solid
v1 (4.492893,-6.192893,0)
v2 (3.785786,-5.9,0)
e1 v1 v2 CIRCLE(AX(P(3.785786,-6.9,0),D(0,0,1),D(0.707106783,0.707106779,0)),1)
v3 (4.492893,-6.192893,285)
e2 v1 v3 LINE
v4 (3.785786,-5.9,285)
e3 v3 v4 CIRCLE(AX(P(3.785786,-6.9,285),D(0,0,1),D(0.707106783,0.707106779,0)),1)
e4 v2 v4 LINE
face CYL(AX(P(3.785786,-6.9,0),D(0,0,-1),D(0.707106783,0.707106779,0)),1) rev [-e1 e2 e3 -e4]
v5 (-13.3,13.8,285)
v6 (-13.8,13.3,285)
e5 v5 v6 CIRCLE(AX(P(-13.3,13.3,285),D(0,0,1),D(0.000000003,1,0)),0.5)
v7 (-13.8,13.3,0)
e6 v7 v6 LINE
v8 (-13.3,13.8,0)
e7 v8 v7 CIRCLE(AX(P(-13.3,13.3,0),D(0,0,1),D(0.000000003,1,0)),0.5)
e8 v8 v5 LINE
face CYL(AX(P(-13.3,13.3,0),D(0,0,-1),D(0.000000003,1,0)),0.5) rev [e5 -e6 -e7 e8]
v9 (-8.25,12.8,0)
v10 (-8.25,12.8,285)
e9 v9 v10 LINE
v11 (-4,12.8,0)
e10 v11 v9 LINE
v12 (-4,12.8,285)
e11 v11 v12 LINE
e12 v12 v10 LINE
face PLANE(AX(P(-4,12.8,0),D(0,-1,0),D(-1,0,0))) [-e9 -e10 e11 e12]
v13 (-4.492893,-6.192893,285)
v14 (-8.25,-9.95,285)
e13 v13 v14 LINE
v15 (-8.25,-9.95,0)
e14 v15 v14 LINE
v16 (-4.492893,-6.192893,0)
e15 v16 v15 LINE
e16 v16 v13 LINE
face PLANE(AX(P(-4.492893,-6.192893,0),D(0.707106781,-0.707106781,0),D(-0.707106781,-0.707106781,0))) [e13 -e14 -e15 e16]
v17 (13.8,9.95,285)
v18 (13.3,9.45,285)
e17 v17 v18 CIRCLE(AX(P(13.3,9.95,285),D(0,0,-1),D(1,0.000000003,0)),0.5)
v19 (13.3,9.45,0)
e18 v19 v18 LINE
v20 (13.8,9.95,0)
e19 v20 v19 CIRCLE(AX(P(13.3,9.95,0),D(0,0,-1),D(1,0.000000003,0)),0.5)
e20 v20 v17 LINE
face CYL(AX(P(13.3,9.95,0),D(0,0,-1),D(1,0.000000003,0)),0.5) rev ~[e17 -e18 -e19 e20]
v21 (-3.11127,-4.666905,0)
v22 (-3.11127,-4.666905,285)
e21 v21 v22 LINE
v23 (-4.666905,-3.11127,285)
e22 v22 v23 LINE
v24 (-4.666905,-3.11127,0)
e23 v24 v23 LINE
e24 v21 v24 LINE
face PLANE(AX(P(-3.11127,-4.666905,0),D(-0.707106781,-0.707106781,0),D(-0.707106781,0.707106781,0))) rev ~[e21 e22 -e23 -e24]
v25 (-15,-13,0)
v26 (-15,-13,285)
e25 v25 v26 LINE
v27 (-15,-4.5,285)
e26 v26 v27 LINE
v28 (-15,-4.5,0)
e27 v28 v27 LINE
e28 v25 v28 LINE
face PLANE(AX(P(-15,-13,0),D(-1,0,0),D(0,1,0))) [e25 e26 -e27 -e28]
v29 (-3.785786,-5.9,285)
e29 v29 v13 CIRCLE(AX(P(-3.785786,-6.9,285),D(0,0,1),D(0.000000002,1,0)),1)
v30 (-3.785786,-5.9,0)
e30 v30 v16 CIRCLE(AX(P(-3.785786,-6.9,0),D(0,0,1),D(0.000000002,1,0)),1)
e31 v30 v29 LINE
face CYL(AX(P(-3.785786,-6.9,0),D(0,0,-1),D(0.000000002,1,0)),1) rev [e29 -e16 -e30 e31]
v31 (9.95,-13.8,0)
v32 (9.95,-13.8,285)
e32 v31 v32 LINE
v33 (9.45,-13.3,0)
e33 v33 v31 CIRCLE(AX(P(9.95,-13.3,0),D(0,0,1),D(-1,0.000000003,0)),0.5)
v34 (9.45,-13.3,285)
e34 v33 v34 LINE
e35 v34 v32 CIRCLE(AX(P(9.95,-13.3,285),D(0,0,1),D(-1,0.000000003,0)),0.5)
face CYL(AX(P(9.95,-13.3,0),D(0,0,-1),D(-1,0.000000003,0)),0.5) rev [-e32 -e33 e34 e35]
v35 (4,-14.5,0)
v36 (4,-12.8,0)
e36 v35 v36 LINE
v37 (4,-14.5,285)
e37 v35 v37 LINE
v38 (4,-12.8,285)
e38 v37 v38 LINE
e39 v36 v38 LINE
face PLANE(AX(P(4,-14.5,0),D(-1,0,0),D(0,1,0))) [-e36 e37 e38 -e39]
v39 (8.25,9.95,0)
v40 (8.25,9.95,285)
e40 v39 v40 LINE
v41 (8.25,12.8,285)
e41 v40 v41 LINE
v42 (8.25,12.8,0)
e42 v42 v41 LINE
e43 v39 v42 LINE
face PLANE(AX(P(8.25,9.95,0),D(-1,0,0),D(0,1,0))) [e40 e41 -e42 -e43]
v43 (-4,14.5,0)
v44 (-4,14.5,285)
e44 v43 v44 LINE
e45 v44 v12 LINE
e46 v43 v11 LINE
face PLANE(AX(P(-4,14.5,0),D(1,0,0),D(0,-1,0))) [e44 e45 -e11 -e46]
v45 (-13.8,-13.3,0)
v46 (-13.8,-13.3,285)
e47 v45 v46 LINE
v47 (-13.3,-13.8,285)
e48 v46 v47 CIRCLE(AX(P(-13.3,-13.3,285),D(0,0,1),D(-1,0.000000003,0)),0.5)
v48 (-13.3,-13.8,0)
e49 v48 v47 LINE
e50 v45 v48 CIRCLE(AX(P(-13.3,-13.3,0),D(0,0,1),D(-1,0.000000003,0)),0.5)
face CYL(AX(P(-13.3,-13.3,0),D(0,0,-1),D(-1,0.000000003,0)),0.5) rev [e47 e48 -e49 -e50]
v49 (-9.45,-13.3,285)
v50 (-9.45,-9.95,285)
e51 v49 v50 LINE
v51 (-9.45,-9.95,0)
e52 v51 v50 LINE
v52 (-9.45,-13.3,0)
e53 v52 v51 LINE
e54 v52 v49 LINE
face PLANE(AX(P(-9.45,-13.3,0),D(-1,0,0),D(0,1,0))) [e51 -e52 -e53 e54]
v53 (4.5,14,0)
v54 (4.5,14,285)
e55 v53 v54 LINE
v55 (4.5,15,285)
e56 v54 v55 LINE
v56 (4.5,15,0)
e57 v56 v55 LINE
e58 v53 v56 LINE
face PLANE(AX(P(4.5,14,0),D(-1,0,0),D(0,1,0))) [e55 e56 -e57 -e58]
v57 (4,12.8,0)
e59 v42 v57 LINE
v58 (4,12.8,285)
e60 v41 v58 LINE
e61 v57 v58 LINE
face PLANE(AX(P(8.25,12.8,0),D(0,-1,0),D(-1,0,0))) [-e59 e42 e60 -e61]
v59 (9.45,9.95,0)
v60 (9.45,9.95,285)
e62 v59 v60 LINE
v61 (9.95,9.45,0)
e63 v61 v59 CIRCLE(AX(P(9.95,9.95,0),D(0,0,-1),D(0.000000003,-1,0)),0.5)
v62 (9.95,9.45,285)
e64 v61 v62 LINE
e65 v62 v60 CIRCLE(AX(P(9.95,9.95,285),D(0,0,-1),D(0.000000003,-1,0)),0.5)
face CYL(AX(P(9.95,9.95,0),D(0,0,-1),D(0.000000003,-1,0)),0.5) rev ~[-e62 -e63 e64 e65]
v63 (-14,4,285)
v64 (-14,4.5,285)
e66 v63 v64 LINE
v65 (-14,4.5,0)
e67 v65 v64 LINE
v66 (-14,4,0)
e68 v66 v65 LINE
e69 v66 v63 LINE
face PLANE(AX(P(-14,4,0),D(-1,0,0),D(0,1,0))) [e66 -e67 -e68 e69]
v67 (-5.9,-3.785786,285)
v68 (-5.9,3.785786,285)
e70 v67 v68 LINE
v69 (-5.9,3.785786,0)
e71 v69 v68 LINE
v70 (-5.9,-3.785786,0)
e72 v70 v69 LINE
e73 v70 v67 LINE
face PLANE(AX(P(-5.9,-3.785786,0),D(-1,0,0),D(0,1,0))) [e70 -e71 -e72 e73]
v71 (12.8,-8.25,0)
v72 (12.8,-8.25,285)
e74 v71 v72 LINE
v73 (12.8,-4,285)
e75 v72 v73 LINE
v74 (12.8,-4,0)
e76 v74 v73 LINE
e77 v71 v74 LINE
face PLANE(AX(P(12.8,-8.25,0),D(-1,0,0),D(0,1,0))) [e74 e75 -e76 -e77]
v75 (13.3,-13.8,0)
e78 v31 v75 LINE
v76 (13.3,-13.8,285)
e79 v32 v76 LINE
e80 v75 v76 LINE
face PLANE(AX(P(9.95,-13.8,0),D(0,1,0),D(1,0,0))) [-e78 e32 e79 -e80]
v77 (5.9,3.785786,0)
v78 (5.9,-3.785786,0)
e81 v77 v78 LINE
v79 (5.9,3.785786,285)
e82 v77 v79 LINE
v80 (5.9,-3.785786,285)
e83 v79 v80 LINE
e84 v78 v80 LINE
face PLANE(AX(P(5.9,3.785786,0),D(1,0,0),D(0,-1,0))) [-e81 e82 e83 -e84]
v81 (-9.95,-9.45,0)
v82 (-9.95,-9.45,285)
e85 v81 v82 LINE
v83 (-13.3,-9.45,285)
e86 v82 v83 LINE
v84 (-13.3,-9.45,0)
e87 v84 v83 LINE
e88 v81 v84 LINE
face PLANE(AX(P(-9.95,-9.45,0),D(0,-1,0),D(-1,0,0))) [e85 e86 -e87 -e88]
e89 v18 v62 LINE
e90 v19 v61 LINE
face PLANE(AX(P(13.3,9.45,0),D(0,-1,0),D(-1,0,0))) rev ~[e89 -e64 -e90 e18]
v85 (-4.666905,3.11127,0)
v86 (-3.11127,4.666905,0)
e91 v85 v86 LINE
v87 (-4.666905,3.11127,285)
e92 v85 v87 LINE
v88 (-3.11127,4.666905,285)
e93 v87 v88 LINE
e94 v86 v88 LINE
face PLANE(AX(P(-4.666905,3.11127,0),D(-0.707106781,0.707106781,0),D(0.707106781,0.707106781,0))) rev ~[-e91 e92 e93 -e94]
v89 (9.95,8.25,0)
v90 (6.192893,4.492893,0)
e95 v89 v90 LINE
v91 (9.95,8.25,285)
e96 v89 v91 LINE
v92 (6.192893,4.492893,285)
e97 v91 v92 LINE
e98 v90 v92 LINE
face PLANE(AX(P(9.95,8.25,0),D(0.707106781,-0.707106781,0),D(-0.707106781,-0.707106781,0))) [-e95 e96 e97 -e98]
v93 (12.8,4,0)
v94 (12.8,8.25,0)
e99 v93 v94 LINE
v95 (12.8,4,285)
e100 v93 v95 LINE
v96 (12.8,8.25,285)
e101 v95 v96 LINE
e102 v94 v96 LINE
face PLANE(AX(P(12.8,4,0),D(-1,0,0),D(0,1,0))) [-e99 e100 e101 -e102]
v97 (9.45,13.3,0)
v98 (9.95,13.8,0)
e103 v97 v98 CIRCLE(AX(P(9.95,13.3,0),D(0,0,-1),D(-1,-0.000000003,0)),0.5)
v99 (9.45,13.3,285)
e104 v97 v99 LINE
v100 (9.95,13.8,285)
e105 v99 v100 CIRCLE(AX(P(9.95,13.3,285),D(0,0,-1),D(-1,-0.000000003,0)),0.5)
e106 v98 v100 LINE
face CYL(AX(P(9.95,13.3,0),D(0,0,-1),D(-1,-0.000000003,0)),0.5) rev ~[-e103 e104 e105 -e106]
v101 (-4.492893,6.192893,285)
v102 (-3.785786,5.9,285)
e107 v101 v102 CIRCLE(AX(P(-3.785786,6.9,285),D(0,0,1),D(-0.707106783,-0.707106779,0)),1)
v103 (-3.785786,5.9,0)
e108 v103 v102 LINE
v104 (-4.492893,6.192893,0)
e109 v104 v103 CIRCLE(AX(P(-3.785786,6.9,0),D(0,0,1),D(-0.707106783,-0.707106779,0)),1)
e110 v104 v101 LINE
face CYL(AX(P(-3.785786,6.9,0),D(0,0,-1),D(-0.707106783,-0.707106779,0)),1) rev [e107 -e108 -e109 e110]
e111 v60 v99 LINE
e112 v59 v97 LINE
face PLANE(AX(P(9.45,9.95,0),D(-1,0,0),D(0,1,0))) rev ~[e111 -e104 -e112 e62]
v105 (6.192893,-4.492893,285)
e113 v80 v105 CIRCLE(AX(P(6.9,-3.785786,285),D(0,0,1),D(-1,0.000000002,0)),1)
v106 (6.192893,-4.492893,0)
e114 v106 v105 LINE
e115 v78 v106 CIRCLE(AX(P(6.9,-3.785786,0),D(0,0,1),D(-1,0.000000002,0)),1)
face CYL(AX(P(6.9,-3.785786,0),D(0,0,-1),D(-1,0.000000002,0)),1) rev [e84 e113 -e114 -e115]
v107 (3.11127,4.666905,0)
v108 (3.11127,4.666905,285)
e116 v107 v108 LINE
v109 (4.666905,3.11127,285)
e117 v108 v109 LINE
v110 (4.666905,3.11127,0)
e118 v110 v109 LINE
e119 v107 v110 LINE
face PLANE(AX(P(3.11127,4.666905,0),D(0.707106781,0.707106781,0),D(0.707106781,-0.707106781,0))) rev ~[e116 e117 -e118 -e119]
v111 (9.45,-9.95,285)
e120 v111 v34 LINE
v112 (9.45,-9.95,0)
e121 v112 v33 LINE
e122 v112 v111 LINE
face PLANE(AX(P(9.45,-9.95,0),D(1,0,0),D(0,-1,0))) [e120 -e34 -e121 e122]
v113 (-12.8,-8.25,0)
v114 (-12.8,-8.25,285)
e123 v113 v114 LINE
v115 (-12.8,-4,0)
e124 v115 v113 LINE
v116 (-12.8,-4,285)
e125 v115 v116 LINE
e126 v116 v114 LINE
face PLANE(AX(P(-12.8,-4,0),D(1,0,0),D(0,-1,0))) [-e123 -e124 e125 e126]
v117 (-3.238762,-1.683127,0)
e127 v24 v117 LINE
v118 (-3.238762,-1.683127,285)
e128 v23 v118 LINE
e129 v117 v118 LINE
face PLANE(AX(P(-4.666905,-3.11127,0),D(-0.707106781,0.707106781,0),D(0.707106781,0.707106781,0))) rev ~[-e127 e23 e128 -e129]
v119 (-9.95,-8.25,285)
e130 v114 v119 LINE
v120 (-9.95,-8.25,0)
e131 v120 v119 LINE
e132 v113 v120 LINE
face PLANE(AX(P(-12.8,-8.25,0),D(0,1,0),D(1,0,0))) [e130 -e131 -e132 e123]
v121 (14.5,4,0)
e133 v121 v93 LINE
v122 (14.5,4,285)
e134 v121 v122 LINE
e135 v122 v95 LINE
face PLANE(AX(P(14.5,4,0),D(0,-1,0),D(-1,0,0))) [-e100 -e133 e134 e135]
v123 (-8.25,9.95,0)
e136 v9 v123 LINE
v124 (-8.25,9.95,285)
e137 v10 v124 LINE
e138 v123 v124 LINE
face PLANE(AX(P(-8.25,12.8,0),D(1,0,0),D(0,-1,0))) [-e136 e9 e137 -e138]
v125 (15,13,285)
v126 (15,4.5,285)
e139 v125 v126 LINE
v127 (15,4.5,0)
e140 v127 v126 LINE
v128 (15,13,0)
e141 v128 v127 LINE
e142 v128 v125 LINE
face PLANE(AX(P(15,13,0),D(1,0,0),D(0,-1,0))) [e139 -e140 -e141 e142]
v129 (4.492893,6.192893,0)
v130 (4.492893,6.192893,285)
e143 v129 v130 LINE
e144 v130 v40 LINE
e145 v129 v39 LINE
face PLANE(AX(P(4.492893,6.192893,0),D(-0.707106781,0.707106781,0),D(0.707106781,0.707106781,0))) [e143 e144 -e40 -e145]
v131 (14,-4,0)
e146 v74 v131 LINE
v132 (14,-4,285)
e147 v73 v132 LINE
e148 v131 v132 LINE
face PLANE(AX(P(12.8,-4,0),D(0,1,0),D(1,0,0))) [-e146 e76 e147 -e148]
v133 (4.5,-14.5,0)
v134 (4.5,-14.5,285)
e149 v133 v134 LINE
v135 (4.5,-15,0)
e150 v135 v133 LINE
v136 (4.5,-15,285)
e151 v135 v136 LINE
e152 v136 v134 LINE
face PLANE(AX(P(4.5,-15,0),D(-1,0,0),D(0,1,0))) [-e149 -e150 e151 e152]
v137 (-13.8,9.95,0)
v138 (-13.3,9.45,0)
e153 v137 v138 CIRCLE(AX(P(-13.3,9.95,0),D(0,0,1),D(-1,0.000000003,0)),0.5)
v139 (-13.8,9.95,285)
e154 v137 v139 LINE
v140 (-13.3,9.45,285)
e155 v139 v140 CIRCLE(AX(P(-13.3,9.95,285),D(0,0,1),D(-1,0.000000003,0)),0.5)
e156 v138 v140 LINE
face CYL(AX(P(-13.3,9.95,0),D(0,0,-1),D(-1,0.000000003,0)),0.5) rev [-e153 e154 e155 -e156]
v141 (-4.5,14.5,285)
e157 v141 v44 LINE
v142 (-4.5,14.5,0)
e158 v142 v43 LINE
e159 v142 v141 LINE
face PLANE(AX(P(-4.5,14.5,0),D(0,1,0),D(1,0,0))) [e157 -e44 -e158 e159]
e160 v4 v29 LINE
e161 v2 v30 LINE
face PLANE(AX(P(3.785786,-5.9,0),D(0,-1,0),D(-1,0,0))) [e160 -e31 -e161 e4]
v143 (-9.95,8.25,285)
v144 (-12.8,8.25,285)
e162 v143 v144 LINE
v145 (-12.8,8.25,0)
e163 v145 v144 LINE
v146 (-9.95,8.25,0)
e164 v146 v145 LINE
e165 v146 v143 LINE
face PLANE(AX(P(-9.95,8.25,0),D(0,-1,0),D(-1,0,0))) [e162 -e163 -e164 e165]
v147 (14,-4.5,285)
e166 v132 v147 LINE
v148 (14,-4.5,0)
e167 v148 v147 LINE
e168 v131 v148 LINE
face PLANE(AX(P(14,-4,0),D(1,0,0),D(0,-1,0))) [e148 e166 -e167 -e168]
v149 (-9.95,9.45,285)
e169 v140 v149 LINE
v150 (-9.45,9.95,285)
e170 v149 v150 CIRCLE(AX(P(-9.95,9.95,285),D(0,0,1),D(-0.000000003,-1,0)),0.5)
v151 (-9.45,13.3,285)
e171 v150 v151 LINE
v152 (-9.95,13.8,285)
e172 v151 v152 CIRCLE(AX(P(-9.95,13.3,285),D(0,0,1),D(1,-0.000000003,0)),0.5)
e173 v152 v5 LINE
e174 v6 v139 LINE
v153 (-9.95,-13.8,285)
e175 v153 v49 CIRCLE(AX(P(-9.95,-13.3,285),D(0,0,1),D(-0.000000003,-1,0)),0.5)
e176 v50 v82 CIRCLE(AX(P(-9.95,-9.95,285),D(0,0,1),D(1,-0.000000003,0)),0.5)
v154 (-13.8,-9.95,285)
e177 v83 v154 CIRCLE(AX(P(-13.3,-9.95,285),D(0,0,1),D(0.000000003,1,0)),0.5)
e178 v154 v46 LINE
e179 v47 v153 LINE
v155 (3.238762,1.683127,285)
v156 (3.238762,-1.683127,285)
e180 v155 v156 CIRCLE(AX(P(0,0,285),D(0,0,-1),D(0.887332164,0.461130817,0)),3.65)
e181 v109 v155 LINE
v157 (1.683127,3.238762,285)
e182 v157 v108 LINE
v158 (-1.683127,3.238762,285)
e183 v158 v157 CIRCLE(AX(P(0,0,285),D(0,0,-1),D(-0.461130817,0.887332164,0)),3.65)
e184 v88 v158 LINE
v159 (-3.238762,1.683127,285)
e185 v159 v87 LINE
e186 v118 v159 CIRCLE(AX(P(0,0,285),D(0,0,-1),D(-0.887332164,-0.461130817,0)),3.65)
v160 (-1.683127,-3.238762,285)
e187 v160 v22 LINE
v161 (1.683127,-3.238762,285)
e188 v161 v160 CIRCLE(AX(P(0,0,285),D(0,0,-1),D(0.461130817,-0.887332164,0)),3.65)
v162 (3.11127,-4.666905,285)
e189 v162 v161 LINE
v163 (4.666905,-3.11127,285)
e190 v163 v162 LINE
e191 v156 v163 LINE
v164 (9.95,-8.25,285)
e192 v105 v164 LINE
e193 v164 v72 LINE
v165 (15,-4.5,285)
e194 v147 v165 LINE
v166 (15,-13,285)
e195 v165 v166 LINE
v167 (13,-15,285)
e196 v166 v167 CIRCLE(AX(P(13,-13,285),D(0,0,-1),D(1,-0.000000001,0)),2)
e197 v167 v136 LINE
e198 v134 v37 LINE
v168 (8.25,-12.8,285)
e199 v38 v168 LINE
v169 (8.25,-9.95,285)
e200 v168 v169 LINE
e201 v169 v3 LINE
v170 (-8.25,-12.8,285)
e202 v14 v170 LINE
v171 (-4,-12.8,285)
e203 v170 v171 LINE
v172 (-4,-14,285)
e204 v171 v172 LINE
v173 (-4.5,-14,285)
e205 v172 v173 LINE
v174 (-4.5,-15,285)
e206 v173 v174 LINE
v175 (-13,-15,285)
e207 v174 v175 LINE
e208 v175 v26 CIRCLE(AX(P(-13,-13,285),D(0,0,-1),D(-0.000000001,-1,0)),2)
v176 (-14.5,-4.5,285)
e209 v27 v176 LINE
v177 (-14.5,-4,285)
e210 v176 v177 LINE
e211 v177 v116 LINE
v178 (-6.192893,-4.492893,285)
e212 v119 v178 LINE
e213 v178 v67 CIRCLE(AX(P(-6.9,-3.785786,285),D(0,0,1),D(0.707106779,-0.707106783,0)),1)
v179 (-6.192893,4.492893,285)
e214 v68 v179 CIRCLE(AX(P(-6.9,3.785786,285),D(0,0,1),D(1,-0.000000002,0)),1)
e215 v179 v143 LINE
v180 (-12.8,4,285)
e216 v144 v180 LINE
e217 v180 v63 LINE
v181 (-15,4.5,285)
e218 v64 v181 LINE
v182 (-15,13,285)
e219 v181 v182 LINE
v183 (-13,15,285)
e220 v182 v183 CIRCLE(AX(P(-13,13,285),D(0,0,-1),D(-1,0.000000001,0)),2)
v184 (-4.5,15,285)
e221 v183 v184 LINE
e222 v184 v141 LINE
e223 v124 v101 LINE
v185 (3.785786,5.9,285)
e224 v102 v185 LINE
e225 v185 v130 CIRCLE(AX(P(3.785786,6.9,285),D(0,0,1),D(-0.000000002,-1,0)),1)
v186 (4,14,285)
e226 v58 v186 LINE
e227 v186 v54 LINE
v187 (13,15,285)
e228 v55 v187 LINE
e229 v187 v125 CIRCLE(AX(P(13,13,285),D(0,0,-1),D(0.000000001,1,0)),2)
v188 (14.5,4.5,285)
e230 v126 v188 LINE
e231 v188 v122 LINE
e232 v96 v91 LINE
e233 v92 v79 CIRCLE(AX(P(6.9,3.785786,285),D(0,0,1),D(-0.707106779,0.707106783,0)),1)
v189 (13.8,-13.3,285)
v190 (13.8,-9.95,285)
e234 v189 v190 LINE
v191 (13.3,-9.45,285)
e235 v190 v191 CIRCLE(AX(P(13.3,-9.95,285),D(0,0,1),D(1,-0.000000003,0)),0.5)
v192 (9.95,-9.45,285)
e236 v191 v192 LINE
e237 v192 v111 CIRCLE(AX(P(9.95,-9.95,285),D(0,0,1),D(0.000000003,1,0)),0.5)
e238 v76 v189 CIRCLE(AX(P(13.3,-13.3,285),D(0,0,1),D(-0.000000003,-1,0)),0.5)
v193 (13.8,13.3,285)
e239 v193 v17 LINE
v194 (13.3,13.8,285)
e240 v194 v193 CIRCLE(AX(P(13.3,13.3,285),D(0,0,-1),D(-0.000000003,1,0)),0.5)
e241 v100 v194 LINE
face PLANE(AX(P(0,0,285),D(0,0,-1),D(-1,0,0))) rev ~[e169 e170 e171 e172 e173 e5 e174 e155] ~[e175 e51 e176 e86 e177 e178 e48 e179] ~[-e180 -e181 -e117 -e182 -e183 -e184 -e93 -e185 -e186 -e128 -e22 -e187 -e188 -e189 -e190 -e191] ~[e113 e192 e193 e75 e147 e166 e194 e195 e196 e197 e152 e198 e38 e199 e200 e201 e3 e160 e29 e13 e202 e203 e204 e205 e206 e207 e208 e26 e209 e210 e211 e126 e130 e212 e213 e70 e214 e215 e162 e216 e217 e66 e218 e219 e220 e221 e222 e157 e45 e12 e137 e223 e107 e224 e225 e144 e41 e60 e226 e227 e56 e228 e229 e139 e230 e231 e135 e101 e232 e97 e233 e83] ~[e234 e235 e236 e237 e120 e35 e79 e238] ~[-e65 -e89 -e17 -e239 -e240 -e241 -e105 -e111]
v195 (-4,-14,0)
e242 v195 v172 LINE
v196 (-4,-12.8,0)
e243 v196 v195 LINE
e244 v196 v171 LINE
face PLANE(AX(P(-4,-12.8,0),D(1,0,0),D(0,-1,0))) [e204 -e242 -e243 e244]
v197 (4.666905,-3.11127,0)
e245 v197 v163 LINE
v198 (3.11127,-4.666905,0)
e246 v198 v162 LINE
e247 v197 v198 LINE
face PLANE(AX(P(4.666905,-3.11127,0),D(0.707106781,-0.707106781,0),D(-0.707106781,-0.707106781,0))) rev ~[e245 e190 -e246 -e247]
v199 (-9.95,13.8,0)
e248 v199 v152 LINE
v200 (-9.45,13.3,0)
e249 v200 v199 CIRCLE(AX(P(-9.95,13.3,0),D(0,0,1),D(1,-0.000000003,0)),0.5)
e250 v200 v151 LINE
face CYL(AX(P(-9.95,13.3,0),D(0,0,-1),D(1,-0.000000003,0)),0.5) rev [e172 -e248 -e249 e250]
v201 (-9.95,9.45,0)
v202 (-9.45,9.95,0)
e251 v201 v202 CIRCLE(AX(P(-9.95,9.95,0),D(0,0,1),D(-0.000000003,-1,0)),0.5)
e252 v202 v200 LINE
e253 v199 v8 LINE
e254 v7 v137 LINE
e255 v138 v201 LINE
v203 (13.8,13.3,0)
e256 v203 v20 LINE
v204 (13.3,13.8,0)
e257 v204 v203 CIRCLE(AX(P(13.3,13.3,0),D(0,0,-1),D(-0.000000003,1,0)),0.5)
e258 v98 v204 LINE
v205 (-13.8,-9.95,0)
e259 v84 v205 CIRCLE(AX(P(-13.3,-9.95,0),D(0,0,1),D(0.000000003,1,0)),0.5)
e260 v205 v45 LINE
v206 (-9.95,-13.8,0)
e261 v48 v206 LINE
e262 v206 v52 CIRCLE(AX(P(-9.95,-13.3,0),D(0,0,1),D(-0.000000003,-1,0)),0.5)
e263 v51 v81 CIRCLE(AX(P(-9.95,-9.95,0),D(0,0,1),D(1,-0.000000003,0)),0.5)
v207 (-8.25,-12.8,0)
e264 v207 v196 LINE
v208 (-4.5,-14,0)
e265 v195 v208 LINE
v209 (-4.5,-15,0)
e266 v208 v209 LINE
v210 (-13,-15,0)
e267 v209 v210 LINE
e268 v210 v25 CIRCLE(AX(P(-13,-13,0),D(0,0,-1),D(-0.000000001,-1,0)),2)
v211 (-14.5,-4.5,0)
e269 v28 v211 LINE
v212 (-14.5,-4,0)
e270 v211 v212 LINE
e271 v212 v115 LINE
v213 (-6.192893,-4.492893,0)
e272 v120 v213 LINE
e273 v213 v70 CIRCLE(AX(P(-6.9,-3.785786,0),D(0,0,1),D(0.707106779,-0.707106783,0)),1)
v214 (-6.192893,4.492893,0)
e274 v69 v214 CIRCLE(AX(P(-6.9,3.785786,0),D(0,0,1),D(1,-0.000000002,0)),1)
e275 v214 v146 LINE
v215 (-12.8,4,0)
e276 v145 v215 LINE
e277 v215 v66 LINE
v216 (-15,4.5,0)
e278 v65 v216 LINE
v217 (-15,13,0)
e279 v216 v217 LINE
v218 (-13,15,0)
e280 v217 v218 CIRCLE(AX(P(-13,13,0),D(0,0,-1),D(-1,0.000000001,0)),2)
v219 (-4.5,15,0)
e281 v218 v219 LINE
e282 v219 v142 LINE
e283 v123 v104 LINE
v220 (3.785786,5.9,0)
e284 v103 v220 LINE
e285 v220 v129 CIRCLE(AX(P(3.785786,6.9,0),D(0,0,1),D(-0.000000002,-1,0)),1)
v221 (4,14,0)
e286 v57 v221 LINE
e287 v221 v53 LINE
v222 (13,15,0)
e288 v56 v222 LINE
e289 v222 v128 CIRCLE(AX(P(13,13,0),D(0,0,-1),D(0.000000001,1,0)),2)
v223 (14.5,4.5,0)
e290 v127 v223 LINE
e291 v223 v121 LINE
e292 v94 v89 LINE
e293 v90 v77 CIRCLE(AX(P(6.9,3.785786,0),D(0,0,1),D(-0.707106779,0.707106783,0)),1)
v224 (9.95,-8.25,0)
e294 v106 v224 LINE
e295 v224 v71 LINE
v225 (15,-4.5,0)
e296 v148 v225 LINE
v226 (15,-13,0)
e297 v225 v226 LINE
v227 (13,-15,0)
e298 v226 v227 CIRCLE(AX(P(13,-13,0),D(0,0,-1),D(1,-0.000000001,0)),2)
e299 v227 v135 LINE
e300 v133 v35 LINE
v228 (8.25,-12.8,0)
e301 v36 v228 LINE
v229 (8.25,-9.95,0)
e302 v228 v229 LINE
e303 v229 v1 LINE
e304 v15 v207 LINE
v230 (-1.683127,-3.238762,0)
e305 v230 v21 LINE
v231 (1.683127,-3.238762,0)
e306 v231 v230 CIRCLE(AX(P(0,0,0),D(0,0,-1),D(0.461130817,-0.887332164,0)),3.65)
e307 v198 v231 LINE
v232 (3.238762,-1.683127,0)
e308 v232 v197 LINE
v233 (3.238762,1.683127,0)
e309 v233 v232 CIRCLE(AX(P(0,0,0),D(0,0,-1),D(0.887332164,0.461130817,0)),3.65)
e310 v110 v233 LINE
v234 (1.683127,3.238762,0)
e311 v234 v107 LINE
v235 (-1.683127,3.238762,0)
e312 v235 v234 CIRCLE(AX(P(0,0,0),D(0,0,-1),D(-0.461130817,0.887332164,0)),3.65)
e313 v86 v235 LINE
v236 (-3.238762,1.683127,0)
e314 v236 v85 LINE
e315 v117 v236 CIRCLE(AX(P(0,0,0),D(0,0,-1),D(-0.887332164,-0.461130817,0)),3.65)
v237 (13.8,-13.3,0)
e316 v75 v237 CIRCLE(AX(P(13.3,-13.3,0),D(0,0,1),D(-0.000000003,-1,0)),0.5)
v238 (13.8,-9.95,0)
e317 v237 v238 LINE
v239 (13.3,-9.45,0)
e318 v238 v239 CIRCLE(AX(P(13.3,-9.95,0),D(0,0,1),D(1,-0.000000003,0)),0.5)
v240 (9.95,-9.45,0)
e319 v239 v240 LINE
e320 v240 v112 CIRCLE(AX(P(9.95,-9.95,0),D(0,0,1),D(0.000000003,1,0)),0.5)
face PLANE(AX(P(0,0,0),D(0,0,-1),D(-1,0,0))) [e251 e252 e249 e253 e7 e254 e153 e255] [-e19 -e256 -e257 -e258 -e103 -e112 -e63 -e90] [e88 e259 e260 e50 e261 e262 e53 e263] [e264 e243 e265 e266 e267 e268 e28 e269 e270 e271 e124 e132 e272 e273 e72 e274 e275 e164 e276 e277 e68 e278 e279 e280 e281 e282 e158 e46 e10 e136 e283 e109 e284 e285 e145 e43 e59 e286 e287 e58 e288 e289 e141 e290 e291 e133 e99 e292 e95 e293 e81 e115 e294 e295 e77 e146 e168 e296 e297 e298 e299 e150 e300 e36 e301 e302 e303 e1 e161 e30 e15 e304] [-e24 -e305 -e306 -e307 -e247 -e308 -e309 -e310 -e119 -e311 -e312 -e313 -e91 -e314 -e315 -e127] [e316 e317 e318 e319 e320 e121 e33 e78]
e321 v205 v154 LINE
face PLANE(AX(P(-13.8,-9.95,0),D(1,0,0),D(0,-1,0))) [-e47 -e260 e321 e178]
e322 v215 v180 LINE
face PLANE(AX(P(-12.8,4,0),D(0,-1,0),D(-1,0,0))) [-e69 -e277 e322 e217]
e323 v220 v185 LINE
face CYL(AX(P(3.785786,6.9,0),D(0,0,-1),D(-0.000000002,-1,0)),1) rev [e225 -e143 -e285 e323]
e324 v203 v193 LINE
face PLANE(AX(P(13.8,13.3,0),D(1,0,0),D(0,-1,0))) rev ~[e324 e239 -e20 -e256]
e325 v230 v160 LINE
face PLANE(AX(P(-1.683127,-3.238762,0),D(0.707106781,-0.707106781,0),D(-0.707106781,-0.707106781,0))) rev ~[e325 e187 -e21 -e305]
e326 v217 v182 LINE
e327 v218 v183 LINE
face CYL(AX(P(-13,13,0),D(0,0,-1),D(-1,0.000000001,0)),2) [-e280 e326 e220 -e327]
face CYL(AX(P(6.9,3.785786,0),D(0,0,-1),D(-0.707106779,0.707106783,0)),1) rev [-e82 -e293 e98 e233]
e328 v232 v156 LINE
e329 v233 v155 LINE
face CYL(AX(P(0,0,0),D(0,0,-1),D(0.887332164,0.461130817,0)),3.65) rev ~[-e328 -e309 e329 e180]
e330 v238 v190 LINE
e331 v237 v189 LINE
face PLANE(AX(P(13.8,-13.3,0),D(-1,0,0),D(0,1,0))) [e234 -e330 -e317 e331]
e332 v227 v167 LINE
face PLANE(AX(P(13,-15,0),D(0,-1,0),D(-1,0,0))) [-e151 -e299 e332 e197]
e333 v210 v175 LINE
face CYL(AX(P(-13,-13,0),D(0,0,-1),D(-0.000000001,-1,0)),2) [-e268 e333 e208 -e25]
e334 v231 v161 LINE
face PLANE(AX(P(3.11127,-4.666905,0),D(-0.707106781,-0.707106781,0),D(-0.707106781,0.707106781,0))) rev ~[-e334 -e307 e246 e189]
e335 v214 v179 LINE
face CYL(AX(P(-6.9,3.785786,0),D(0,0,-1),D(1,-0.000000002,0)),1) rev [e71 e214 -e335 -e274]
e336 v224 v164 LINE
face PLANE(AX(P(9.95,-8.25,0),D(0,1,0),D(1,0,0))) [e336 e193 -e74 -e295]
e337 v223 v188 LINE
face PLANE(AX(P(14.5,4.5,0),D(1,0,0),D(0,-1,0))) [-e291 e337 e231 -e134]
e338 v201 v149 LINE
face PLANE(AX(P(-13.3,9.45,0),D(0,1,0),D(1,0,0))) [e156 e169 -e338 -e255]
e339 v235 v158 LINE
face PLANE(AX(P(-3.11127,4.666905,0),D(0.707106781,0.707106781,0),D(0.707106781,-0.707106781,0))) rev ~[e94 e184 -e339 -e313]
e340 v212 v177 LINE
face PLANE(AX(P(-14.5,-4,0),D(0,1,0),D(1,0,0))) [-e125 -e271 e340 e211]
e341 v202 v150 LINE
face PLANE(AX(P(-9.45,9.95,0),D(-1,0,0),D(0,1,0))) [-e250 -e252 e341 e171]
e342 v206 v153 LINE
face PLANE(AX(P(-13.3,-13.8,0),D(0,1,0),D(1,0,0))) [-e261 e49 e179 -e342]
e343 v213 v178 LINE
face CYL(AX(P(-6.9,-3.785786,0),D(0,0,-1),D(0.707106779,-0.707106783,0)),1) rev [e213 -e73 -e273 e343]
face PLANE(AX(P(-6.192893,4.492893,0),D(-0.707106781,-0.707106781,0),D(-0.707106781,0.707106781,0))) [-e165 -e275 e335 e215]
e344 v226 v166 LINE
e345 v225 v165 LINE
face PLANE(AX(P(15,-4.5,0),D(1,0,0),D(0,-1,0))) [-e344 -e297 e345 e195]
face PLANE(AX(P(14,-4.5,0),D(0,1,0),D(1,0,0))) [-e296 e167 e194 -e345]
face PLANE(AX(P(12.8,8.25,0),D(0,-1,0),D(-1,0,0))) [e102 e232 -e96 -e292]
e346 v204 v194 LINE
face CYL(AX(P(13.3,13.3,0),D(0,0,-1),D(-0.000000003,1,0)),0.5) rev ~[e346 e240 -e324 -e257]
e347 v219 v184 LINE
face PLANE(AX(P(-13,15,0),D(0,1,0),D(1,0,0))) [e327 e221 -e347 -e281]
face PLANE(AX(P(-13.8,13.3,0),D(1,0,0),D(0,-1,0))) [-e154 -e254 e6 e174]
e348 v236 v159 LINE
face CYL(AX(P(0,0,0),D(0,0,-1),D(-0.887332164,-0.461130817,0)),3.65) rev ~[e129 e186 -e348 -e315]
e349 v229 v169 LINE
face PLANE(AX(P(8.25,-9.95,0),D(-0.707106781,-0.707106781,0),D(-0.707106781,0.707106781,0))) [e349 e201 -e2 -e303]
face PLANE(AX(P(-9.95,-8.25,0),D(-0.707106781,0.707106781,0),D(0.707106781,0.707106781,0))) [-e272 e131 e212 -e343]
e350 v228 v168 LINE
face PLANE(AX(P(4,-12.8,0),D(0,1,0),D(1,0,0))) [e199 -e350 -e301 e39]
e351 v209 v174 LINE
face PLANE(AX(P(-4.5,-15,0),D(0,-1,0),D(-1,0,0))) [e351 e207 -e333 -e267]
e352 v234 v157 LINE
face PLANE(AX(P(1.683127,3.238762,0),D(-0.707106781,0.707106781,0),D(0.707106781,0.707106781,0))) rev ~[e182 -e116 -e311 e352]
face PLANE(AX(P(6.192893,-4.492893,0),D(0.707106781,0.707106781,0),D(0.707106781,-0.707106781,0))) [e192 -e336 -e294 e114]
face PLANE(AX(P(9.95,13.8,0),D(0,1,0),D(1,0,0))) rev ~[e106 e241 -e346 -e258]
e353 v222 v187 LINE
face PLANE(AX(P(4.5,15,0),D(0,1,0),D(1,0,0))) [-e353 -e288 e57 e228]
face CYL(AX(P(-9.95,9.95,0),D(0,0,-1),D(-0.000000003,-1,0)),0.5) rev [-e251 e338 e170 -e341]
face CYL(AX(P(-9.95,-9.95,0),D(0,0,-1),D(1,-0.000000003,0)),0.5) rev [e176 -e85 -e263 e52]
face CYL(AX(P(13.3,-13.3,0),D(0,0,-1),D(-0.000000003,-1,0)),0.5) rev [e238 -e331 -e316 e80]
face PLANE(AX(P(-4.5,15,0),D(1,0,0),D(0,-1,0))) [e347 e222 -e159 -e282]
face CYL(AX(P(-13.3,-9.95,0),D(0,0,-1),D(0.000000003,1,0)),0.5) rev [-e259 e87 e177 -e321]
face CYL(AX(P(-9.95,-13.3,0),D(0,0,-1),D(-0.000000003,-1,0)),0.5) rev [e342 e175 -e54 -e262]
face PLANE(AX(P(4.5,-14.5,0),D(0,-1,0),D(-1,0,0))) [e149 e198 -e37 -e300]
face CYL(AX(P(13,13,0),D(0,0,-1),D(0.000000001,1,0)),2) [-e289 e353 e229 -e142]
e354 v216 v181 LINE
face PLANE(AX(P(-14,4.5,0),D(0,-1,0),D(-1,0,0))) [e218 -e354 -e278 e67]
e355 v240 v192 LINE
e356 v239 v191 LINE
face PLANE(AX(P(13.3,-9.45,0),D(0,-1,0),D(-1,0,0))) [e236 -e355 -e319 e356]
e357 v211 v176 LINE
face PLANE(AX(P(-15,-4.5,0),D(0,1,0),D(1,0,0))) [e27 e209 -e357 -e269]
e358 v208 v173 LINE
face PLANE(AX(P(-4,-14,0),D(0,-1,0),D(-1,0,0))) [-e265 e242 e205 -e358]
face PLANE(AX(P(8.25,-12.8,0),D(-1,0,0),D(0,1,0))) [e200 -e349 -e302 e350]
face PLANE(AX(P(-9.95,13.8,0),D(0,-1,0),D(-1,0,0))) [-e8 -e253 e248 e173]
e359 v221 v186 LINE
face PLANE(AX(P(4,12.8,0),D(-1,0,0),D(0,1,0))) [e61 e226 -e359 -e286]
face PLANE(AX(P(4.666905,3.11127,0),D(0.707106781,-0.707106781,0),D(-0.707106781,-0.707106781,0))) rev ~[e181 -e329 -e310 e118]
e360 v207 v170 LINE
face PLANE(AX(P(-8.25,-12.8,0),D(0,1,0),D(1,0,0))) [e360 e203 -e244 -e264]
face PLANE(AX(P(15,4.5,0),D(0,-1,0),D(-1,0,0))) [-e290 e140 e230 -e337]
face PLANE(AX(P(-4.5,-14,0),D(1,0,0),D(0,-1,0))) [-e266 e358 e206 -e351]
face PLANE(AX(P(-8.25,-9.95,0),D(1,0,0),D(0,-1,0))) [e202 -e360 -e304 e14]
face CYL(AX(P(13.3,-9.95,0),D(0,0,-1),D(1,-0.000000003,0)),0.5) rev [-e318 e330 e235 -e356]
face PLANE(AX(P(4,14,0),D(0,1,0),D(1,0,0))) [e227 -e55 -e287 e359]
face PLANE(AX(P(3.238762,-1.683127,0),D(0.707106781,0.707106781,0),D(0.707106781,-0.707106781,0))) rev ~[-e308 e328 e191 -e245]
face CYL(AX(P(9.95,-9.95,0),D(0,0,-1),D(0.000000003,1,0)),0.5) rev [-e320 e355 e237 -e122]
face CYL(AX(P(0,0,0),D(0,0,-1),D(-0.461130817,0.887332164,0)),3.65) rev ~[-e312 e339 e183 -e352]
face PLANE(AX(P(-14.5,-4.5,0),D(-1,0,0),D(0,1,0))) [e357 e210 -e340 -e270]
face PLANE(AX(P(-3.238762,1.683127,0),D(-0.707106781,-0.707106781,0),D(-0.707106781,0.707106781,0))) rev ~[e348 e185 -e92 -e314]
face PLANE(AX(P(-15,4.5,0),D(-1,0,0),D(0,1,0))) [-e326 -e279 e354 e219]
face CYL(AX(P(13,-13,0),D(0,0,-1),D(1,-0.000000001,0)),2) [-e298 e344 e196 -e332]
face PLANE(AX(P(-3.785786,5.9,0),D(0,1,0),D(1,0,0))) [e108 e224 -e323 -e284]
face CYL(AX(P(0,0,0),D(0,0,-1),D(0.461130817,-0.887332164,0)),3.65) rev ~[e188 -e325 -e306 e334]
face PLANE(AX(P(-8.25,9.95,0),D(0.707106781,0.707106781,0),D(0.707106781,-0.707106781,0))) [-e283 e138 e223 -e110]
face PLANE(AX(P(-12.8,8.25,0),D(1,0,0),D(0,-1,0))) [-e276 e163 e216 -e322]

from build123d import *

# Parameters (mm, degrees)
BOSS_EXTRUDE1_DEPTH = 285


with BuildPart() as part:
    # Sketch1 → Boss-Extrude1 (new body)
    with BuildSketch(Plane.XY):
        with BuildLine():
            Line((-4.5, 14.5), (-4.5, 15))
            Line((-4.5, 15), (-13, 15))
            ThreePointArc((-13, 15), (-14.414213562, 14.414213562), (-15, 13))
            Line((-15, 13), (-15, 4.5))
            Line((-15, 4.5), (-14, 4.5))
            Line((-14, 4.5), (-14, 4))
            Line((-14, 4), (-12.8, 4))
            Line((-12.8, 4), (-12.8, 8.25))
            Line((-12.8, 8.25), (-9.95, 8.25))
            Line((-9.95, 8.25), (-6.192893219, 4.492893219))
            ThreePointArc((-6.192893219, 4.492893219), (-5.976120467, 4.16846987), (-5.9, 3.785786438))
            Line((-5.9, 3.785786438), (-5.9, -3.785786438))
            ThreePointArc((-5.9, -3.785786438), (-5.976120467, -4.16846987), (-6.192893219, -4.492893219))
            Line((-6.192893219, -4.492893219), (-9.95, -8.25))
            Line((-9.95, -8.25), (-12.8, -8.25))
            Line((-12.8, -8.25), (-12.8, -4))
            Line((-12.8, -4), (-14.5, -4))
            Line((-14.5, -4), (-14.5, -4.5))
            Line((-14.5, -4.5), (-15, -4.5))
            Line((-15, -4.5), (-15, -13))
            ThreePointArc((-15, -13), (-14.414213562, -14.414213562), (-13, -15))
            Line((-13, -15), (-4.5, -15))
            Line((-4.5, -15), (-4.5, -14))
            Line((-4.5, -14), (-4, -14))
            Line((-4, -14), (-4, -12.8))
            Line((-4, -12.8), (-8.25, -12.8))
            Line((-8.25, -12.8), (-8.25, -9.95))
            Line((-8.25, -9.95), (-4.492893219, -6.192893219))
            ThreePointArc((-4.492893219, -6.192893219), (-4.16846987, -5.976120467), (-3.785786438, -5.9))
            Line((-3.785786438, -5.9), (3.785786438, -5.9))
            ThreePointArc((3.785786438, -5.9), (4.16846987, -5.976120467), (4.492893219, -6.192893219))
            Line((4.492893219, -6.192893219), (8.25, -9.95))
            Line((8.25, -9.95), (8.25, -12.8))
            Line((8.25, -12.8), (4, -12.8))
            Line((4, -12.8), (4, -14.5))
            Line((4, -14.5), (4.5, -14.5))
            Line((4.5, -14.5), (4.5, -15))
            Line((4.5, -15), (13, -15))
            ThreePointArc((13, -15), (14.414213562, -14.414213562), (15, -13))
            Line((15, -13), (15, -4.5))
            Line((15, -4.5), (14, -4.5))
            Line((14, -4.5), (14, -4))
            Line((14, -4), (12.8, -4))
            Line((12.8, -4), (12.8, -8.25))
            Line((12.8, -8.25), (9.95, -8.25))
            Line((9.95, -8.25), (6.192893219, -4.492893219))
            ThreePointArc((6.192893219, -4.492893219), (5.976120467, -4.16846987), (5.9, -3.785786438))
            Line((5.9, -3.785786438), (5.9, 3.785786438))
            ThreePointArc((5.9, 3.785786438), (5.976120467, 4.16846987), (6.192893219, 4.492893219))
            Line((6.192893219, 4.492893219), (9.95, 8.25))
            Line((9.95, 8.25), (12.8, 8.25))
            Line((12.8, 8.25), (12.8, 4))
            Line((12.8, 4), (14.5, 4))
            Line((14.5, 4), (14.5, 4.5))
            Line((14.5, 4.5), (15, 4.5))
            Line((15, 4.5), (15, 13))
            ThreePointArc((15, 13), (14.414213562, 14.414213562), (13, 15))
            Line((13, 15), (4.5, 15))
            Line((4.5, 15), (4.5, 14))
            Line((4.5, 14), (4, 14))
            Line((4, 14), (4, 12.8))
            Line((4, 12.8), (8.25, 12.8))
            Line((8.25, 12.8), (8.25, 9.95))
            Line((8.25, 9.95), (4.492893219, 6.192893219))
            ThreePointArc((4.492893219, 6.192893219), (4.16846987, 5.976120467), (3.785786438, 5.9))
            Line((3.785786438, 5.9), (-3.785786438, 5.9))
            ThreePointArc((-3.785786438, 5.9), (-4.16846987, 5.976120467), (-4.492893219, 6.192893219))
            Line((-4.492893219, 6.192893219), (-8.25, 9.95))
            Line((-8.25, 9.95), (-8.25, 12.8))
            Line((-8.25, 12.8), (-4, 12.8))
            Line((-4, 12.8), (-4, 14.5))
            Line((-4, 14.5), (-4.5, 14.5))
        make_face()
        with BuildLine():
            Line((-9.45, -9.95), (-9.45, -13.3))
            ThreePointArc((-9.45, -13.3), (-9.596446609, -13.653553391), (-9.95, -13.8))
            Line((-9.95, -13.8), (-13.3, -13.8))
            ThreePointArc((-13.3, -13.8), (-13.653553391, -13.653553391), (-13.8, -13.3))
            Line((-13.8, -13.3), (-13.8, -9.95))
            ThreePointArc((-13.8, -9.95), (-13.653553391, -9.596446609), (-13.3, -9.45))
            Line((-13.3, -9.45), (-9.95, -9.45))
            ThreePointArc((-9.95, -9.45), (-9.596446609, -9.596446609), (-9.45, -9.95))
        make_face(mode=Mode.SUBTRACT)
        with BuildLine():
            Line((9.95, -9.45), (13.3, -9.45))
            ThreePointArc((13.3, -9.45), (13.653553391, -9.596446609), (13.8, -9.95))
            Line((13.8, -9.95), (13.8, -13.3))
            ThreePointArc((13.8, -13.3), (13.653553391, -13.653553391), (13.3, -13.8))
            Line((13.3, -13.8), (9.95, -13.8))
            ThreePointArc((9.95, -13.8), (9.596446609, -13.653553391), (9.45, -13.3))
            Line((9.45, -13.3), (9.45, -9.95))
            ThreePointArc((9.45, -9.95), (9.596446609, -9.596446609), (9.95, -9.45))
        make_face(mode=Mode.SUBTRACT)
        with BuildLine():
            Line((-9.95, 9.45), (-13.3, 9.45))
            ThreePointArc((-13.3, 9.45), (-13.653553391, 9.596446609), (-13.8, 9.95))
            Line((-13.8, 9.95), (-13.8, 13.3))
            ThreePointArc((-13.8, 13.3), (-13.653553391, 13.653553391), (-13.3, 13.8))
            Line((-13.3, 13.8), (-9.95, 13.8))
            ThreePointArc((-9.95, 13.8), (-9.596446609, 13.653553391), (-9.45, 13.3))
            Line((-9.45, 13.3), (-9.45, 9.95))
            ThreePointArc((-9.45, 9.95), (-9.596446609, 9.596446609), (-9.95, 9.45))
        make_face(mode=Mode.SUBTRACT)
        with BuildLine():
            ThreePointArc((1.683127481, -3.2387624), (0, -3.65), (-1.683127481, -3.2387624))
            Line((-1.683127481, -3.2387624), (-3.111269837, -4.666904756))
            Line((-3.111269837, -4.666904756), (-4.666904756, -3.111269837))
            Line((-4.666904756, -3.111269837), (-3.2387624, -1.683127481))
            ThreePointArc((-3.2387624, -1.683127481), (-3.65, 0), (-3.2387624, 1.683127481))
            Line((-3.2387624, 1.683127481), (-4.666904756, 3.111269837))
            Line((-4.666904756, 3.111269837), (-3.111269837, 4.666904756))
            Line((-3.111269837, 4.666904756), (-1.683127481, 3.2387624))
            ThreePointArc((-1.683127481, 3.2387624), (0, 3.65), (1.683127481, 3.2387624))
            Line((1.683127481, 3.2387624), (3.111269837, 4.666904756))
            Line((3.111269837, 4.666904756), (4.666904756, 3.111269837))
            Line((4.666904756, 3.111269837), (3.2387624, 1.683127481))
            ThreePointArc((3.2387624, 1.683127481), (3.65, 0), (3.2387624, -1.683127481))
            Line((3.2387624, -1.683127481), (4.666904756, -3.111269837))
            Line((4.666904756, -3.111269837), (3.111269837, -4.666904756))
            Line((3.111269837, -4.666904756), (1.683127481, -3.2387624))
        make_face(mode=Mode.SUBTRACT)
        with BuildLine():
            ThreePointArc((9.45, 13.3), (9.596446609, 13.653553391), (9.95, 13.8))
            Line((9.95, 13.8), (13.3, 13.8))
            ThreePointArc((13.3, 13.8), (13.653553391, 13.653553391), (13.8, 13.3))
            Line((13.8, 13.3), (13.8, 9.95))
            ThreePointArc((13.8, 9.95), (13.653553391, 9.596446609), (13.3, 9.45))
            Line((13.3, 9.45), (9.95, 9.45))
            ThreePointArc((9.95, 9.45), (9.596446609, 9.596446609), (9.45, 9.95))
            Line((9.45, 9.95), (9.45, 13.3))
        make_face(mode=Mode.SUBTRACT)
    extrude(amount=BOSS_EXTRUDE1_DEPTH)


solid = part.part
